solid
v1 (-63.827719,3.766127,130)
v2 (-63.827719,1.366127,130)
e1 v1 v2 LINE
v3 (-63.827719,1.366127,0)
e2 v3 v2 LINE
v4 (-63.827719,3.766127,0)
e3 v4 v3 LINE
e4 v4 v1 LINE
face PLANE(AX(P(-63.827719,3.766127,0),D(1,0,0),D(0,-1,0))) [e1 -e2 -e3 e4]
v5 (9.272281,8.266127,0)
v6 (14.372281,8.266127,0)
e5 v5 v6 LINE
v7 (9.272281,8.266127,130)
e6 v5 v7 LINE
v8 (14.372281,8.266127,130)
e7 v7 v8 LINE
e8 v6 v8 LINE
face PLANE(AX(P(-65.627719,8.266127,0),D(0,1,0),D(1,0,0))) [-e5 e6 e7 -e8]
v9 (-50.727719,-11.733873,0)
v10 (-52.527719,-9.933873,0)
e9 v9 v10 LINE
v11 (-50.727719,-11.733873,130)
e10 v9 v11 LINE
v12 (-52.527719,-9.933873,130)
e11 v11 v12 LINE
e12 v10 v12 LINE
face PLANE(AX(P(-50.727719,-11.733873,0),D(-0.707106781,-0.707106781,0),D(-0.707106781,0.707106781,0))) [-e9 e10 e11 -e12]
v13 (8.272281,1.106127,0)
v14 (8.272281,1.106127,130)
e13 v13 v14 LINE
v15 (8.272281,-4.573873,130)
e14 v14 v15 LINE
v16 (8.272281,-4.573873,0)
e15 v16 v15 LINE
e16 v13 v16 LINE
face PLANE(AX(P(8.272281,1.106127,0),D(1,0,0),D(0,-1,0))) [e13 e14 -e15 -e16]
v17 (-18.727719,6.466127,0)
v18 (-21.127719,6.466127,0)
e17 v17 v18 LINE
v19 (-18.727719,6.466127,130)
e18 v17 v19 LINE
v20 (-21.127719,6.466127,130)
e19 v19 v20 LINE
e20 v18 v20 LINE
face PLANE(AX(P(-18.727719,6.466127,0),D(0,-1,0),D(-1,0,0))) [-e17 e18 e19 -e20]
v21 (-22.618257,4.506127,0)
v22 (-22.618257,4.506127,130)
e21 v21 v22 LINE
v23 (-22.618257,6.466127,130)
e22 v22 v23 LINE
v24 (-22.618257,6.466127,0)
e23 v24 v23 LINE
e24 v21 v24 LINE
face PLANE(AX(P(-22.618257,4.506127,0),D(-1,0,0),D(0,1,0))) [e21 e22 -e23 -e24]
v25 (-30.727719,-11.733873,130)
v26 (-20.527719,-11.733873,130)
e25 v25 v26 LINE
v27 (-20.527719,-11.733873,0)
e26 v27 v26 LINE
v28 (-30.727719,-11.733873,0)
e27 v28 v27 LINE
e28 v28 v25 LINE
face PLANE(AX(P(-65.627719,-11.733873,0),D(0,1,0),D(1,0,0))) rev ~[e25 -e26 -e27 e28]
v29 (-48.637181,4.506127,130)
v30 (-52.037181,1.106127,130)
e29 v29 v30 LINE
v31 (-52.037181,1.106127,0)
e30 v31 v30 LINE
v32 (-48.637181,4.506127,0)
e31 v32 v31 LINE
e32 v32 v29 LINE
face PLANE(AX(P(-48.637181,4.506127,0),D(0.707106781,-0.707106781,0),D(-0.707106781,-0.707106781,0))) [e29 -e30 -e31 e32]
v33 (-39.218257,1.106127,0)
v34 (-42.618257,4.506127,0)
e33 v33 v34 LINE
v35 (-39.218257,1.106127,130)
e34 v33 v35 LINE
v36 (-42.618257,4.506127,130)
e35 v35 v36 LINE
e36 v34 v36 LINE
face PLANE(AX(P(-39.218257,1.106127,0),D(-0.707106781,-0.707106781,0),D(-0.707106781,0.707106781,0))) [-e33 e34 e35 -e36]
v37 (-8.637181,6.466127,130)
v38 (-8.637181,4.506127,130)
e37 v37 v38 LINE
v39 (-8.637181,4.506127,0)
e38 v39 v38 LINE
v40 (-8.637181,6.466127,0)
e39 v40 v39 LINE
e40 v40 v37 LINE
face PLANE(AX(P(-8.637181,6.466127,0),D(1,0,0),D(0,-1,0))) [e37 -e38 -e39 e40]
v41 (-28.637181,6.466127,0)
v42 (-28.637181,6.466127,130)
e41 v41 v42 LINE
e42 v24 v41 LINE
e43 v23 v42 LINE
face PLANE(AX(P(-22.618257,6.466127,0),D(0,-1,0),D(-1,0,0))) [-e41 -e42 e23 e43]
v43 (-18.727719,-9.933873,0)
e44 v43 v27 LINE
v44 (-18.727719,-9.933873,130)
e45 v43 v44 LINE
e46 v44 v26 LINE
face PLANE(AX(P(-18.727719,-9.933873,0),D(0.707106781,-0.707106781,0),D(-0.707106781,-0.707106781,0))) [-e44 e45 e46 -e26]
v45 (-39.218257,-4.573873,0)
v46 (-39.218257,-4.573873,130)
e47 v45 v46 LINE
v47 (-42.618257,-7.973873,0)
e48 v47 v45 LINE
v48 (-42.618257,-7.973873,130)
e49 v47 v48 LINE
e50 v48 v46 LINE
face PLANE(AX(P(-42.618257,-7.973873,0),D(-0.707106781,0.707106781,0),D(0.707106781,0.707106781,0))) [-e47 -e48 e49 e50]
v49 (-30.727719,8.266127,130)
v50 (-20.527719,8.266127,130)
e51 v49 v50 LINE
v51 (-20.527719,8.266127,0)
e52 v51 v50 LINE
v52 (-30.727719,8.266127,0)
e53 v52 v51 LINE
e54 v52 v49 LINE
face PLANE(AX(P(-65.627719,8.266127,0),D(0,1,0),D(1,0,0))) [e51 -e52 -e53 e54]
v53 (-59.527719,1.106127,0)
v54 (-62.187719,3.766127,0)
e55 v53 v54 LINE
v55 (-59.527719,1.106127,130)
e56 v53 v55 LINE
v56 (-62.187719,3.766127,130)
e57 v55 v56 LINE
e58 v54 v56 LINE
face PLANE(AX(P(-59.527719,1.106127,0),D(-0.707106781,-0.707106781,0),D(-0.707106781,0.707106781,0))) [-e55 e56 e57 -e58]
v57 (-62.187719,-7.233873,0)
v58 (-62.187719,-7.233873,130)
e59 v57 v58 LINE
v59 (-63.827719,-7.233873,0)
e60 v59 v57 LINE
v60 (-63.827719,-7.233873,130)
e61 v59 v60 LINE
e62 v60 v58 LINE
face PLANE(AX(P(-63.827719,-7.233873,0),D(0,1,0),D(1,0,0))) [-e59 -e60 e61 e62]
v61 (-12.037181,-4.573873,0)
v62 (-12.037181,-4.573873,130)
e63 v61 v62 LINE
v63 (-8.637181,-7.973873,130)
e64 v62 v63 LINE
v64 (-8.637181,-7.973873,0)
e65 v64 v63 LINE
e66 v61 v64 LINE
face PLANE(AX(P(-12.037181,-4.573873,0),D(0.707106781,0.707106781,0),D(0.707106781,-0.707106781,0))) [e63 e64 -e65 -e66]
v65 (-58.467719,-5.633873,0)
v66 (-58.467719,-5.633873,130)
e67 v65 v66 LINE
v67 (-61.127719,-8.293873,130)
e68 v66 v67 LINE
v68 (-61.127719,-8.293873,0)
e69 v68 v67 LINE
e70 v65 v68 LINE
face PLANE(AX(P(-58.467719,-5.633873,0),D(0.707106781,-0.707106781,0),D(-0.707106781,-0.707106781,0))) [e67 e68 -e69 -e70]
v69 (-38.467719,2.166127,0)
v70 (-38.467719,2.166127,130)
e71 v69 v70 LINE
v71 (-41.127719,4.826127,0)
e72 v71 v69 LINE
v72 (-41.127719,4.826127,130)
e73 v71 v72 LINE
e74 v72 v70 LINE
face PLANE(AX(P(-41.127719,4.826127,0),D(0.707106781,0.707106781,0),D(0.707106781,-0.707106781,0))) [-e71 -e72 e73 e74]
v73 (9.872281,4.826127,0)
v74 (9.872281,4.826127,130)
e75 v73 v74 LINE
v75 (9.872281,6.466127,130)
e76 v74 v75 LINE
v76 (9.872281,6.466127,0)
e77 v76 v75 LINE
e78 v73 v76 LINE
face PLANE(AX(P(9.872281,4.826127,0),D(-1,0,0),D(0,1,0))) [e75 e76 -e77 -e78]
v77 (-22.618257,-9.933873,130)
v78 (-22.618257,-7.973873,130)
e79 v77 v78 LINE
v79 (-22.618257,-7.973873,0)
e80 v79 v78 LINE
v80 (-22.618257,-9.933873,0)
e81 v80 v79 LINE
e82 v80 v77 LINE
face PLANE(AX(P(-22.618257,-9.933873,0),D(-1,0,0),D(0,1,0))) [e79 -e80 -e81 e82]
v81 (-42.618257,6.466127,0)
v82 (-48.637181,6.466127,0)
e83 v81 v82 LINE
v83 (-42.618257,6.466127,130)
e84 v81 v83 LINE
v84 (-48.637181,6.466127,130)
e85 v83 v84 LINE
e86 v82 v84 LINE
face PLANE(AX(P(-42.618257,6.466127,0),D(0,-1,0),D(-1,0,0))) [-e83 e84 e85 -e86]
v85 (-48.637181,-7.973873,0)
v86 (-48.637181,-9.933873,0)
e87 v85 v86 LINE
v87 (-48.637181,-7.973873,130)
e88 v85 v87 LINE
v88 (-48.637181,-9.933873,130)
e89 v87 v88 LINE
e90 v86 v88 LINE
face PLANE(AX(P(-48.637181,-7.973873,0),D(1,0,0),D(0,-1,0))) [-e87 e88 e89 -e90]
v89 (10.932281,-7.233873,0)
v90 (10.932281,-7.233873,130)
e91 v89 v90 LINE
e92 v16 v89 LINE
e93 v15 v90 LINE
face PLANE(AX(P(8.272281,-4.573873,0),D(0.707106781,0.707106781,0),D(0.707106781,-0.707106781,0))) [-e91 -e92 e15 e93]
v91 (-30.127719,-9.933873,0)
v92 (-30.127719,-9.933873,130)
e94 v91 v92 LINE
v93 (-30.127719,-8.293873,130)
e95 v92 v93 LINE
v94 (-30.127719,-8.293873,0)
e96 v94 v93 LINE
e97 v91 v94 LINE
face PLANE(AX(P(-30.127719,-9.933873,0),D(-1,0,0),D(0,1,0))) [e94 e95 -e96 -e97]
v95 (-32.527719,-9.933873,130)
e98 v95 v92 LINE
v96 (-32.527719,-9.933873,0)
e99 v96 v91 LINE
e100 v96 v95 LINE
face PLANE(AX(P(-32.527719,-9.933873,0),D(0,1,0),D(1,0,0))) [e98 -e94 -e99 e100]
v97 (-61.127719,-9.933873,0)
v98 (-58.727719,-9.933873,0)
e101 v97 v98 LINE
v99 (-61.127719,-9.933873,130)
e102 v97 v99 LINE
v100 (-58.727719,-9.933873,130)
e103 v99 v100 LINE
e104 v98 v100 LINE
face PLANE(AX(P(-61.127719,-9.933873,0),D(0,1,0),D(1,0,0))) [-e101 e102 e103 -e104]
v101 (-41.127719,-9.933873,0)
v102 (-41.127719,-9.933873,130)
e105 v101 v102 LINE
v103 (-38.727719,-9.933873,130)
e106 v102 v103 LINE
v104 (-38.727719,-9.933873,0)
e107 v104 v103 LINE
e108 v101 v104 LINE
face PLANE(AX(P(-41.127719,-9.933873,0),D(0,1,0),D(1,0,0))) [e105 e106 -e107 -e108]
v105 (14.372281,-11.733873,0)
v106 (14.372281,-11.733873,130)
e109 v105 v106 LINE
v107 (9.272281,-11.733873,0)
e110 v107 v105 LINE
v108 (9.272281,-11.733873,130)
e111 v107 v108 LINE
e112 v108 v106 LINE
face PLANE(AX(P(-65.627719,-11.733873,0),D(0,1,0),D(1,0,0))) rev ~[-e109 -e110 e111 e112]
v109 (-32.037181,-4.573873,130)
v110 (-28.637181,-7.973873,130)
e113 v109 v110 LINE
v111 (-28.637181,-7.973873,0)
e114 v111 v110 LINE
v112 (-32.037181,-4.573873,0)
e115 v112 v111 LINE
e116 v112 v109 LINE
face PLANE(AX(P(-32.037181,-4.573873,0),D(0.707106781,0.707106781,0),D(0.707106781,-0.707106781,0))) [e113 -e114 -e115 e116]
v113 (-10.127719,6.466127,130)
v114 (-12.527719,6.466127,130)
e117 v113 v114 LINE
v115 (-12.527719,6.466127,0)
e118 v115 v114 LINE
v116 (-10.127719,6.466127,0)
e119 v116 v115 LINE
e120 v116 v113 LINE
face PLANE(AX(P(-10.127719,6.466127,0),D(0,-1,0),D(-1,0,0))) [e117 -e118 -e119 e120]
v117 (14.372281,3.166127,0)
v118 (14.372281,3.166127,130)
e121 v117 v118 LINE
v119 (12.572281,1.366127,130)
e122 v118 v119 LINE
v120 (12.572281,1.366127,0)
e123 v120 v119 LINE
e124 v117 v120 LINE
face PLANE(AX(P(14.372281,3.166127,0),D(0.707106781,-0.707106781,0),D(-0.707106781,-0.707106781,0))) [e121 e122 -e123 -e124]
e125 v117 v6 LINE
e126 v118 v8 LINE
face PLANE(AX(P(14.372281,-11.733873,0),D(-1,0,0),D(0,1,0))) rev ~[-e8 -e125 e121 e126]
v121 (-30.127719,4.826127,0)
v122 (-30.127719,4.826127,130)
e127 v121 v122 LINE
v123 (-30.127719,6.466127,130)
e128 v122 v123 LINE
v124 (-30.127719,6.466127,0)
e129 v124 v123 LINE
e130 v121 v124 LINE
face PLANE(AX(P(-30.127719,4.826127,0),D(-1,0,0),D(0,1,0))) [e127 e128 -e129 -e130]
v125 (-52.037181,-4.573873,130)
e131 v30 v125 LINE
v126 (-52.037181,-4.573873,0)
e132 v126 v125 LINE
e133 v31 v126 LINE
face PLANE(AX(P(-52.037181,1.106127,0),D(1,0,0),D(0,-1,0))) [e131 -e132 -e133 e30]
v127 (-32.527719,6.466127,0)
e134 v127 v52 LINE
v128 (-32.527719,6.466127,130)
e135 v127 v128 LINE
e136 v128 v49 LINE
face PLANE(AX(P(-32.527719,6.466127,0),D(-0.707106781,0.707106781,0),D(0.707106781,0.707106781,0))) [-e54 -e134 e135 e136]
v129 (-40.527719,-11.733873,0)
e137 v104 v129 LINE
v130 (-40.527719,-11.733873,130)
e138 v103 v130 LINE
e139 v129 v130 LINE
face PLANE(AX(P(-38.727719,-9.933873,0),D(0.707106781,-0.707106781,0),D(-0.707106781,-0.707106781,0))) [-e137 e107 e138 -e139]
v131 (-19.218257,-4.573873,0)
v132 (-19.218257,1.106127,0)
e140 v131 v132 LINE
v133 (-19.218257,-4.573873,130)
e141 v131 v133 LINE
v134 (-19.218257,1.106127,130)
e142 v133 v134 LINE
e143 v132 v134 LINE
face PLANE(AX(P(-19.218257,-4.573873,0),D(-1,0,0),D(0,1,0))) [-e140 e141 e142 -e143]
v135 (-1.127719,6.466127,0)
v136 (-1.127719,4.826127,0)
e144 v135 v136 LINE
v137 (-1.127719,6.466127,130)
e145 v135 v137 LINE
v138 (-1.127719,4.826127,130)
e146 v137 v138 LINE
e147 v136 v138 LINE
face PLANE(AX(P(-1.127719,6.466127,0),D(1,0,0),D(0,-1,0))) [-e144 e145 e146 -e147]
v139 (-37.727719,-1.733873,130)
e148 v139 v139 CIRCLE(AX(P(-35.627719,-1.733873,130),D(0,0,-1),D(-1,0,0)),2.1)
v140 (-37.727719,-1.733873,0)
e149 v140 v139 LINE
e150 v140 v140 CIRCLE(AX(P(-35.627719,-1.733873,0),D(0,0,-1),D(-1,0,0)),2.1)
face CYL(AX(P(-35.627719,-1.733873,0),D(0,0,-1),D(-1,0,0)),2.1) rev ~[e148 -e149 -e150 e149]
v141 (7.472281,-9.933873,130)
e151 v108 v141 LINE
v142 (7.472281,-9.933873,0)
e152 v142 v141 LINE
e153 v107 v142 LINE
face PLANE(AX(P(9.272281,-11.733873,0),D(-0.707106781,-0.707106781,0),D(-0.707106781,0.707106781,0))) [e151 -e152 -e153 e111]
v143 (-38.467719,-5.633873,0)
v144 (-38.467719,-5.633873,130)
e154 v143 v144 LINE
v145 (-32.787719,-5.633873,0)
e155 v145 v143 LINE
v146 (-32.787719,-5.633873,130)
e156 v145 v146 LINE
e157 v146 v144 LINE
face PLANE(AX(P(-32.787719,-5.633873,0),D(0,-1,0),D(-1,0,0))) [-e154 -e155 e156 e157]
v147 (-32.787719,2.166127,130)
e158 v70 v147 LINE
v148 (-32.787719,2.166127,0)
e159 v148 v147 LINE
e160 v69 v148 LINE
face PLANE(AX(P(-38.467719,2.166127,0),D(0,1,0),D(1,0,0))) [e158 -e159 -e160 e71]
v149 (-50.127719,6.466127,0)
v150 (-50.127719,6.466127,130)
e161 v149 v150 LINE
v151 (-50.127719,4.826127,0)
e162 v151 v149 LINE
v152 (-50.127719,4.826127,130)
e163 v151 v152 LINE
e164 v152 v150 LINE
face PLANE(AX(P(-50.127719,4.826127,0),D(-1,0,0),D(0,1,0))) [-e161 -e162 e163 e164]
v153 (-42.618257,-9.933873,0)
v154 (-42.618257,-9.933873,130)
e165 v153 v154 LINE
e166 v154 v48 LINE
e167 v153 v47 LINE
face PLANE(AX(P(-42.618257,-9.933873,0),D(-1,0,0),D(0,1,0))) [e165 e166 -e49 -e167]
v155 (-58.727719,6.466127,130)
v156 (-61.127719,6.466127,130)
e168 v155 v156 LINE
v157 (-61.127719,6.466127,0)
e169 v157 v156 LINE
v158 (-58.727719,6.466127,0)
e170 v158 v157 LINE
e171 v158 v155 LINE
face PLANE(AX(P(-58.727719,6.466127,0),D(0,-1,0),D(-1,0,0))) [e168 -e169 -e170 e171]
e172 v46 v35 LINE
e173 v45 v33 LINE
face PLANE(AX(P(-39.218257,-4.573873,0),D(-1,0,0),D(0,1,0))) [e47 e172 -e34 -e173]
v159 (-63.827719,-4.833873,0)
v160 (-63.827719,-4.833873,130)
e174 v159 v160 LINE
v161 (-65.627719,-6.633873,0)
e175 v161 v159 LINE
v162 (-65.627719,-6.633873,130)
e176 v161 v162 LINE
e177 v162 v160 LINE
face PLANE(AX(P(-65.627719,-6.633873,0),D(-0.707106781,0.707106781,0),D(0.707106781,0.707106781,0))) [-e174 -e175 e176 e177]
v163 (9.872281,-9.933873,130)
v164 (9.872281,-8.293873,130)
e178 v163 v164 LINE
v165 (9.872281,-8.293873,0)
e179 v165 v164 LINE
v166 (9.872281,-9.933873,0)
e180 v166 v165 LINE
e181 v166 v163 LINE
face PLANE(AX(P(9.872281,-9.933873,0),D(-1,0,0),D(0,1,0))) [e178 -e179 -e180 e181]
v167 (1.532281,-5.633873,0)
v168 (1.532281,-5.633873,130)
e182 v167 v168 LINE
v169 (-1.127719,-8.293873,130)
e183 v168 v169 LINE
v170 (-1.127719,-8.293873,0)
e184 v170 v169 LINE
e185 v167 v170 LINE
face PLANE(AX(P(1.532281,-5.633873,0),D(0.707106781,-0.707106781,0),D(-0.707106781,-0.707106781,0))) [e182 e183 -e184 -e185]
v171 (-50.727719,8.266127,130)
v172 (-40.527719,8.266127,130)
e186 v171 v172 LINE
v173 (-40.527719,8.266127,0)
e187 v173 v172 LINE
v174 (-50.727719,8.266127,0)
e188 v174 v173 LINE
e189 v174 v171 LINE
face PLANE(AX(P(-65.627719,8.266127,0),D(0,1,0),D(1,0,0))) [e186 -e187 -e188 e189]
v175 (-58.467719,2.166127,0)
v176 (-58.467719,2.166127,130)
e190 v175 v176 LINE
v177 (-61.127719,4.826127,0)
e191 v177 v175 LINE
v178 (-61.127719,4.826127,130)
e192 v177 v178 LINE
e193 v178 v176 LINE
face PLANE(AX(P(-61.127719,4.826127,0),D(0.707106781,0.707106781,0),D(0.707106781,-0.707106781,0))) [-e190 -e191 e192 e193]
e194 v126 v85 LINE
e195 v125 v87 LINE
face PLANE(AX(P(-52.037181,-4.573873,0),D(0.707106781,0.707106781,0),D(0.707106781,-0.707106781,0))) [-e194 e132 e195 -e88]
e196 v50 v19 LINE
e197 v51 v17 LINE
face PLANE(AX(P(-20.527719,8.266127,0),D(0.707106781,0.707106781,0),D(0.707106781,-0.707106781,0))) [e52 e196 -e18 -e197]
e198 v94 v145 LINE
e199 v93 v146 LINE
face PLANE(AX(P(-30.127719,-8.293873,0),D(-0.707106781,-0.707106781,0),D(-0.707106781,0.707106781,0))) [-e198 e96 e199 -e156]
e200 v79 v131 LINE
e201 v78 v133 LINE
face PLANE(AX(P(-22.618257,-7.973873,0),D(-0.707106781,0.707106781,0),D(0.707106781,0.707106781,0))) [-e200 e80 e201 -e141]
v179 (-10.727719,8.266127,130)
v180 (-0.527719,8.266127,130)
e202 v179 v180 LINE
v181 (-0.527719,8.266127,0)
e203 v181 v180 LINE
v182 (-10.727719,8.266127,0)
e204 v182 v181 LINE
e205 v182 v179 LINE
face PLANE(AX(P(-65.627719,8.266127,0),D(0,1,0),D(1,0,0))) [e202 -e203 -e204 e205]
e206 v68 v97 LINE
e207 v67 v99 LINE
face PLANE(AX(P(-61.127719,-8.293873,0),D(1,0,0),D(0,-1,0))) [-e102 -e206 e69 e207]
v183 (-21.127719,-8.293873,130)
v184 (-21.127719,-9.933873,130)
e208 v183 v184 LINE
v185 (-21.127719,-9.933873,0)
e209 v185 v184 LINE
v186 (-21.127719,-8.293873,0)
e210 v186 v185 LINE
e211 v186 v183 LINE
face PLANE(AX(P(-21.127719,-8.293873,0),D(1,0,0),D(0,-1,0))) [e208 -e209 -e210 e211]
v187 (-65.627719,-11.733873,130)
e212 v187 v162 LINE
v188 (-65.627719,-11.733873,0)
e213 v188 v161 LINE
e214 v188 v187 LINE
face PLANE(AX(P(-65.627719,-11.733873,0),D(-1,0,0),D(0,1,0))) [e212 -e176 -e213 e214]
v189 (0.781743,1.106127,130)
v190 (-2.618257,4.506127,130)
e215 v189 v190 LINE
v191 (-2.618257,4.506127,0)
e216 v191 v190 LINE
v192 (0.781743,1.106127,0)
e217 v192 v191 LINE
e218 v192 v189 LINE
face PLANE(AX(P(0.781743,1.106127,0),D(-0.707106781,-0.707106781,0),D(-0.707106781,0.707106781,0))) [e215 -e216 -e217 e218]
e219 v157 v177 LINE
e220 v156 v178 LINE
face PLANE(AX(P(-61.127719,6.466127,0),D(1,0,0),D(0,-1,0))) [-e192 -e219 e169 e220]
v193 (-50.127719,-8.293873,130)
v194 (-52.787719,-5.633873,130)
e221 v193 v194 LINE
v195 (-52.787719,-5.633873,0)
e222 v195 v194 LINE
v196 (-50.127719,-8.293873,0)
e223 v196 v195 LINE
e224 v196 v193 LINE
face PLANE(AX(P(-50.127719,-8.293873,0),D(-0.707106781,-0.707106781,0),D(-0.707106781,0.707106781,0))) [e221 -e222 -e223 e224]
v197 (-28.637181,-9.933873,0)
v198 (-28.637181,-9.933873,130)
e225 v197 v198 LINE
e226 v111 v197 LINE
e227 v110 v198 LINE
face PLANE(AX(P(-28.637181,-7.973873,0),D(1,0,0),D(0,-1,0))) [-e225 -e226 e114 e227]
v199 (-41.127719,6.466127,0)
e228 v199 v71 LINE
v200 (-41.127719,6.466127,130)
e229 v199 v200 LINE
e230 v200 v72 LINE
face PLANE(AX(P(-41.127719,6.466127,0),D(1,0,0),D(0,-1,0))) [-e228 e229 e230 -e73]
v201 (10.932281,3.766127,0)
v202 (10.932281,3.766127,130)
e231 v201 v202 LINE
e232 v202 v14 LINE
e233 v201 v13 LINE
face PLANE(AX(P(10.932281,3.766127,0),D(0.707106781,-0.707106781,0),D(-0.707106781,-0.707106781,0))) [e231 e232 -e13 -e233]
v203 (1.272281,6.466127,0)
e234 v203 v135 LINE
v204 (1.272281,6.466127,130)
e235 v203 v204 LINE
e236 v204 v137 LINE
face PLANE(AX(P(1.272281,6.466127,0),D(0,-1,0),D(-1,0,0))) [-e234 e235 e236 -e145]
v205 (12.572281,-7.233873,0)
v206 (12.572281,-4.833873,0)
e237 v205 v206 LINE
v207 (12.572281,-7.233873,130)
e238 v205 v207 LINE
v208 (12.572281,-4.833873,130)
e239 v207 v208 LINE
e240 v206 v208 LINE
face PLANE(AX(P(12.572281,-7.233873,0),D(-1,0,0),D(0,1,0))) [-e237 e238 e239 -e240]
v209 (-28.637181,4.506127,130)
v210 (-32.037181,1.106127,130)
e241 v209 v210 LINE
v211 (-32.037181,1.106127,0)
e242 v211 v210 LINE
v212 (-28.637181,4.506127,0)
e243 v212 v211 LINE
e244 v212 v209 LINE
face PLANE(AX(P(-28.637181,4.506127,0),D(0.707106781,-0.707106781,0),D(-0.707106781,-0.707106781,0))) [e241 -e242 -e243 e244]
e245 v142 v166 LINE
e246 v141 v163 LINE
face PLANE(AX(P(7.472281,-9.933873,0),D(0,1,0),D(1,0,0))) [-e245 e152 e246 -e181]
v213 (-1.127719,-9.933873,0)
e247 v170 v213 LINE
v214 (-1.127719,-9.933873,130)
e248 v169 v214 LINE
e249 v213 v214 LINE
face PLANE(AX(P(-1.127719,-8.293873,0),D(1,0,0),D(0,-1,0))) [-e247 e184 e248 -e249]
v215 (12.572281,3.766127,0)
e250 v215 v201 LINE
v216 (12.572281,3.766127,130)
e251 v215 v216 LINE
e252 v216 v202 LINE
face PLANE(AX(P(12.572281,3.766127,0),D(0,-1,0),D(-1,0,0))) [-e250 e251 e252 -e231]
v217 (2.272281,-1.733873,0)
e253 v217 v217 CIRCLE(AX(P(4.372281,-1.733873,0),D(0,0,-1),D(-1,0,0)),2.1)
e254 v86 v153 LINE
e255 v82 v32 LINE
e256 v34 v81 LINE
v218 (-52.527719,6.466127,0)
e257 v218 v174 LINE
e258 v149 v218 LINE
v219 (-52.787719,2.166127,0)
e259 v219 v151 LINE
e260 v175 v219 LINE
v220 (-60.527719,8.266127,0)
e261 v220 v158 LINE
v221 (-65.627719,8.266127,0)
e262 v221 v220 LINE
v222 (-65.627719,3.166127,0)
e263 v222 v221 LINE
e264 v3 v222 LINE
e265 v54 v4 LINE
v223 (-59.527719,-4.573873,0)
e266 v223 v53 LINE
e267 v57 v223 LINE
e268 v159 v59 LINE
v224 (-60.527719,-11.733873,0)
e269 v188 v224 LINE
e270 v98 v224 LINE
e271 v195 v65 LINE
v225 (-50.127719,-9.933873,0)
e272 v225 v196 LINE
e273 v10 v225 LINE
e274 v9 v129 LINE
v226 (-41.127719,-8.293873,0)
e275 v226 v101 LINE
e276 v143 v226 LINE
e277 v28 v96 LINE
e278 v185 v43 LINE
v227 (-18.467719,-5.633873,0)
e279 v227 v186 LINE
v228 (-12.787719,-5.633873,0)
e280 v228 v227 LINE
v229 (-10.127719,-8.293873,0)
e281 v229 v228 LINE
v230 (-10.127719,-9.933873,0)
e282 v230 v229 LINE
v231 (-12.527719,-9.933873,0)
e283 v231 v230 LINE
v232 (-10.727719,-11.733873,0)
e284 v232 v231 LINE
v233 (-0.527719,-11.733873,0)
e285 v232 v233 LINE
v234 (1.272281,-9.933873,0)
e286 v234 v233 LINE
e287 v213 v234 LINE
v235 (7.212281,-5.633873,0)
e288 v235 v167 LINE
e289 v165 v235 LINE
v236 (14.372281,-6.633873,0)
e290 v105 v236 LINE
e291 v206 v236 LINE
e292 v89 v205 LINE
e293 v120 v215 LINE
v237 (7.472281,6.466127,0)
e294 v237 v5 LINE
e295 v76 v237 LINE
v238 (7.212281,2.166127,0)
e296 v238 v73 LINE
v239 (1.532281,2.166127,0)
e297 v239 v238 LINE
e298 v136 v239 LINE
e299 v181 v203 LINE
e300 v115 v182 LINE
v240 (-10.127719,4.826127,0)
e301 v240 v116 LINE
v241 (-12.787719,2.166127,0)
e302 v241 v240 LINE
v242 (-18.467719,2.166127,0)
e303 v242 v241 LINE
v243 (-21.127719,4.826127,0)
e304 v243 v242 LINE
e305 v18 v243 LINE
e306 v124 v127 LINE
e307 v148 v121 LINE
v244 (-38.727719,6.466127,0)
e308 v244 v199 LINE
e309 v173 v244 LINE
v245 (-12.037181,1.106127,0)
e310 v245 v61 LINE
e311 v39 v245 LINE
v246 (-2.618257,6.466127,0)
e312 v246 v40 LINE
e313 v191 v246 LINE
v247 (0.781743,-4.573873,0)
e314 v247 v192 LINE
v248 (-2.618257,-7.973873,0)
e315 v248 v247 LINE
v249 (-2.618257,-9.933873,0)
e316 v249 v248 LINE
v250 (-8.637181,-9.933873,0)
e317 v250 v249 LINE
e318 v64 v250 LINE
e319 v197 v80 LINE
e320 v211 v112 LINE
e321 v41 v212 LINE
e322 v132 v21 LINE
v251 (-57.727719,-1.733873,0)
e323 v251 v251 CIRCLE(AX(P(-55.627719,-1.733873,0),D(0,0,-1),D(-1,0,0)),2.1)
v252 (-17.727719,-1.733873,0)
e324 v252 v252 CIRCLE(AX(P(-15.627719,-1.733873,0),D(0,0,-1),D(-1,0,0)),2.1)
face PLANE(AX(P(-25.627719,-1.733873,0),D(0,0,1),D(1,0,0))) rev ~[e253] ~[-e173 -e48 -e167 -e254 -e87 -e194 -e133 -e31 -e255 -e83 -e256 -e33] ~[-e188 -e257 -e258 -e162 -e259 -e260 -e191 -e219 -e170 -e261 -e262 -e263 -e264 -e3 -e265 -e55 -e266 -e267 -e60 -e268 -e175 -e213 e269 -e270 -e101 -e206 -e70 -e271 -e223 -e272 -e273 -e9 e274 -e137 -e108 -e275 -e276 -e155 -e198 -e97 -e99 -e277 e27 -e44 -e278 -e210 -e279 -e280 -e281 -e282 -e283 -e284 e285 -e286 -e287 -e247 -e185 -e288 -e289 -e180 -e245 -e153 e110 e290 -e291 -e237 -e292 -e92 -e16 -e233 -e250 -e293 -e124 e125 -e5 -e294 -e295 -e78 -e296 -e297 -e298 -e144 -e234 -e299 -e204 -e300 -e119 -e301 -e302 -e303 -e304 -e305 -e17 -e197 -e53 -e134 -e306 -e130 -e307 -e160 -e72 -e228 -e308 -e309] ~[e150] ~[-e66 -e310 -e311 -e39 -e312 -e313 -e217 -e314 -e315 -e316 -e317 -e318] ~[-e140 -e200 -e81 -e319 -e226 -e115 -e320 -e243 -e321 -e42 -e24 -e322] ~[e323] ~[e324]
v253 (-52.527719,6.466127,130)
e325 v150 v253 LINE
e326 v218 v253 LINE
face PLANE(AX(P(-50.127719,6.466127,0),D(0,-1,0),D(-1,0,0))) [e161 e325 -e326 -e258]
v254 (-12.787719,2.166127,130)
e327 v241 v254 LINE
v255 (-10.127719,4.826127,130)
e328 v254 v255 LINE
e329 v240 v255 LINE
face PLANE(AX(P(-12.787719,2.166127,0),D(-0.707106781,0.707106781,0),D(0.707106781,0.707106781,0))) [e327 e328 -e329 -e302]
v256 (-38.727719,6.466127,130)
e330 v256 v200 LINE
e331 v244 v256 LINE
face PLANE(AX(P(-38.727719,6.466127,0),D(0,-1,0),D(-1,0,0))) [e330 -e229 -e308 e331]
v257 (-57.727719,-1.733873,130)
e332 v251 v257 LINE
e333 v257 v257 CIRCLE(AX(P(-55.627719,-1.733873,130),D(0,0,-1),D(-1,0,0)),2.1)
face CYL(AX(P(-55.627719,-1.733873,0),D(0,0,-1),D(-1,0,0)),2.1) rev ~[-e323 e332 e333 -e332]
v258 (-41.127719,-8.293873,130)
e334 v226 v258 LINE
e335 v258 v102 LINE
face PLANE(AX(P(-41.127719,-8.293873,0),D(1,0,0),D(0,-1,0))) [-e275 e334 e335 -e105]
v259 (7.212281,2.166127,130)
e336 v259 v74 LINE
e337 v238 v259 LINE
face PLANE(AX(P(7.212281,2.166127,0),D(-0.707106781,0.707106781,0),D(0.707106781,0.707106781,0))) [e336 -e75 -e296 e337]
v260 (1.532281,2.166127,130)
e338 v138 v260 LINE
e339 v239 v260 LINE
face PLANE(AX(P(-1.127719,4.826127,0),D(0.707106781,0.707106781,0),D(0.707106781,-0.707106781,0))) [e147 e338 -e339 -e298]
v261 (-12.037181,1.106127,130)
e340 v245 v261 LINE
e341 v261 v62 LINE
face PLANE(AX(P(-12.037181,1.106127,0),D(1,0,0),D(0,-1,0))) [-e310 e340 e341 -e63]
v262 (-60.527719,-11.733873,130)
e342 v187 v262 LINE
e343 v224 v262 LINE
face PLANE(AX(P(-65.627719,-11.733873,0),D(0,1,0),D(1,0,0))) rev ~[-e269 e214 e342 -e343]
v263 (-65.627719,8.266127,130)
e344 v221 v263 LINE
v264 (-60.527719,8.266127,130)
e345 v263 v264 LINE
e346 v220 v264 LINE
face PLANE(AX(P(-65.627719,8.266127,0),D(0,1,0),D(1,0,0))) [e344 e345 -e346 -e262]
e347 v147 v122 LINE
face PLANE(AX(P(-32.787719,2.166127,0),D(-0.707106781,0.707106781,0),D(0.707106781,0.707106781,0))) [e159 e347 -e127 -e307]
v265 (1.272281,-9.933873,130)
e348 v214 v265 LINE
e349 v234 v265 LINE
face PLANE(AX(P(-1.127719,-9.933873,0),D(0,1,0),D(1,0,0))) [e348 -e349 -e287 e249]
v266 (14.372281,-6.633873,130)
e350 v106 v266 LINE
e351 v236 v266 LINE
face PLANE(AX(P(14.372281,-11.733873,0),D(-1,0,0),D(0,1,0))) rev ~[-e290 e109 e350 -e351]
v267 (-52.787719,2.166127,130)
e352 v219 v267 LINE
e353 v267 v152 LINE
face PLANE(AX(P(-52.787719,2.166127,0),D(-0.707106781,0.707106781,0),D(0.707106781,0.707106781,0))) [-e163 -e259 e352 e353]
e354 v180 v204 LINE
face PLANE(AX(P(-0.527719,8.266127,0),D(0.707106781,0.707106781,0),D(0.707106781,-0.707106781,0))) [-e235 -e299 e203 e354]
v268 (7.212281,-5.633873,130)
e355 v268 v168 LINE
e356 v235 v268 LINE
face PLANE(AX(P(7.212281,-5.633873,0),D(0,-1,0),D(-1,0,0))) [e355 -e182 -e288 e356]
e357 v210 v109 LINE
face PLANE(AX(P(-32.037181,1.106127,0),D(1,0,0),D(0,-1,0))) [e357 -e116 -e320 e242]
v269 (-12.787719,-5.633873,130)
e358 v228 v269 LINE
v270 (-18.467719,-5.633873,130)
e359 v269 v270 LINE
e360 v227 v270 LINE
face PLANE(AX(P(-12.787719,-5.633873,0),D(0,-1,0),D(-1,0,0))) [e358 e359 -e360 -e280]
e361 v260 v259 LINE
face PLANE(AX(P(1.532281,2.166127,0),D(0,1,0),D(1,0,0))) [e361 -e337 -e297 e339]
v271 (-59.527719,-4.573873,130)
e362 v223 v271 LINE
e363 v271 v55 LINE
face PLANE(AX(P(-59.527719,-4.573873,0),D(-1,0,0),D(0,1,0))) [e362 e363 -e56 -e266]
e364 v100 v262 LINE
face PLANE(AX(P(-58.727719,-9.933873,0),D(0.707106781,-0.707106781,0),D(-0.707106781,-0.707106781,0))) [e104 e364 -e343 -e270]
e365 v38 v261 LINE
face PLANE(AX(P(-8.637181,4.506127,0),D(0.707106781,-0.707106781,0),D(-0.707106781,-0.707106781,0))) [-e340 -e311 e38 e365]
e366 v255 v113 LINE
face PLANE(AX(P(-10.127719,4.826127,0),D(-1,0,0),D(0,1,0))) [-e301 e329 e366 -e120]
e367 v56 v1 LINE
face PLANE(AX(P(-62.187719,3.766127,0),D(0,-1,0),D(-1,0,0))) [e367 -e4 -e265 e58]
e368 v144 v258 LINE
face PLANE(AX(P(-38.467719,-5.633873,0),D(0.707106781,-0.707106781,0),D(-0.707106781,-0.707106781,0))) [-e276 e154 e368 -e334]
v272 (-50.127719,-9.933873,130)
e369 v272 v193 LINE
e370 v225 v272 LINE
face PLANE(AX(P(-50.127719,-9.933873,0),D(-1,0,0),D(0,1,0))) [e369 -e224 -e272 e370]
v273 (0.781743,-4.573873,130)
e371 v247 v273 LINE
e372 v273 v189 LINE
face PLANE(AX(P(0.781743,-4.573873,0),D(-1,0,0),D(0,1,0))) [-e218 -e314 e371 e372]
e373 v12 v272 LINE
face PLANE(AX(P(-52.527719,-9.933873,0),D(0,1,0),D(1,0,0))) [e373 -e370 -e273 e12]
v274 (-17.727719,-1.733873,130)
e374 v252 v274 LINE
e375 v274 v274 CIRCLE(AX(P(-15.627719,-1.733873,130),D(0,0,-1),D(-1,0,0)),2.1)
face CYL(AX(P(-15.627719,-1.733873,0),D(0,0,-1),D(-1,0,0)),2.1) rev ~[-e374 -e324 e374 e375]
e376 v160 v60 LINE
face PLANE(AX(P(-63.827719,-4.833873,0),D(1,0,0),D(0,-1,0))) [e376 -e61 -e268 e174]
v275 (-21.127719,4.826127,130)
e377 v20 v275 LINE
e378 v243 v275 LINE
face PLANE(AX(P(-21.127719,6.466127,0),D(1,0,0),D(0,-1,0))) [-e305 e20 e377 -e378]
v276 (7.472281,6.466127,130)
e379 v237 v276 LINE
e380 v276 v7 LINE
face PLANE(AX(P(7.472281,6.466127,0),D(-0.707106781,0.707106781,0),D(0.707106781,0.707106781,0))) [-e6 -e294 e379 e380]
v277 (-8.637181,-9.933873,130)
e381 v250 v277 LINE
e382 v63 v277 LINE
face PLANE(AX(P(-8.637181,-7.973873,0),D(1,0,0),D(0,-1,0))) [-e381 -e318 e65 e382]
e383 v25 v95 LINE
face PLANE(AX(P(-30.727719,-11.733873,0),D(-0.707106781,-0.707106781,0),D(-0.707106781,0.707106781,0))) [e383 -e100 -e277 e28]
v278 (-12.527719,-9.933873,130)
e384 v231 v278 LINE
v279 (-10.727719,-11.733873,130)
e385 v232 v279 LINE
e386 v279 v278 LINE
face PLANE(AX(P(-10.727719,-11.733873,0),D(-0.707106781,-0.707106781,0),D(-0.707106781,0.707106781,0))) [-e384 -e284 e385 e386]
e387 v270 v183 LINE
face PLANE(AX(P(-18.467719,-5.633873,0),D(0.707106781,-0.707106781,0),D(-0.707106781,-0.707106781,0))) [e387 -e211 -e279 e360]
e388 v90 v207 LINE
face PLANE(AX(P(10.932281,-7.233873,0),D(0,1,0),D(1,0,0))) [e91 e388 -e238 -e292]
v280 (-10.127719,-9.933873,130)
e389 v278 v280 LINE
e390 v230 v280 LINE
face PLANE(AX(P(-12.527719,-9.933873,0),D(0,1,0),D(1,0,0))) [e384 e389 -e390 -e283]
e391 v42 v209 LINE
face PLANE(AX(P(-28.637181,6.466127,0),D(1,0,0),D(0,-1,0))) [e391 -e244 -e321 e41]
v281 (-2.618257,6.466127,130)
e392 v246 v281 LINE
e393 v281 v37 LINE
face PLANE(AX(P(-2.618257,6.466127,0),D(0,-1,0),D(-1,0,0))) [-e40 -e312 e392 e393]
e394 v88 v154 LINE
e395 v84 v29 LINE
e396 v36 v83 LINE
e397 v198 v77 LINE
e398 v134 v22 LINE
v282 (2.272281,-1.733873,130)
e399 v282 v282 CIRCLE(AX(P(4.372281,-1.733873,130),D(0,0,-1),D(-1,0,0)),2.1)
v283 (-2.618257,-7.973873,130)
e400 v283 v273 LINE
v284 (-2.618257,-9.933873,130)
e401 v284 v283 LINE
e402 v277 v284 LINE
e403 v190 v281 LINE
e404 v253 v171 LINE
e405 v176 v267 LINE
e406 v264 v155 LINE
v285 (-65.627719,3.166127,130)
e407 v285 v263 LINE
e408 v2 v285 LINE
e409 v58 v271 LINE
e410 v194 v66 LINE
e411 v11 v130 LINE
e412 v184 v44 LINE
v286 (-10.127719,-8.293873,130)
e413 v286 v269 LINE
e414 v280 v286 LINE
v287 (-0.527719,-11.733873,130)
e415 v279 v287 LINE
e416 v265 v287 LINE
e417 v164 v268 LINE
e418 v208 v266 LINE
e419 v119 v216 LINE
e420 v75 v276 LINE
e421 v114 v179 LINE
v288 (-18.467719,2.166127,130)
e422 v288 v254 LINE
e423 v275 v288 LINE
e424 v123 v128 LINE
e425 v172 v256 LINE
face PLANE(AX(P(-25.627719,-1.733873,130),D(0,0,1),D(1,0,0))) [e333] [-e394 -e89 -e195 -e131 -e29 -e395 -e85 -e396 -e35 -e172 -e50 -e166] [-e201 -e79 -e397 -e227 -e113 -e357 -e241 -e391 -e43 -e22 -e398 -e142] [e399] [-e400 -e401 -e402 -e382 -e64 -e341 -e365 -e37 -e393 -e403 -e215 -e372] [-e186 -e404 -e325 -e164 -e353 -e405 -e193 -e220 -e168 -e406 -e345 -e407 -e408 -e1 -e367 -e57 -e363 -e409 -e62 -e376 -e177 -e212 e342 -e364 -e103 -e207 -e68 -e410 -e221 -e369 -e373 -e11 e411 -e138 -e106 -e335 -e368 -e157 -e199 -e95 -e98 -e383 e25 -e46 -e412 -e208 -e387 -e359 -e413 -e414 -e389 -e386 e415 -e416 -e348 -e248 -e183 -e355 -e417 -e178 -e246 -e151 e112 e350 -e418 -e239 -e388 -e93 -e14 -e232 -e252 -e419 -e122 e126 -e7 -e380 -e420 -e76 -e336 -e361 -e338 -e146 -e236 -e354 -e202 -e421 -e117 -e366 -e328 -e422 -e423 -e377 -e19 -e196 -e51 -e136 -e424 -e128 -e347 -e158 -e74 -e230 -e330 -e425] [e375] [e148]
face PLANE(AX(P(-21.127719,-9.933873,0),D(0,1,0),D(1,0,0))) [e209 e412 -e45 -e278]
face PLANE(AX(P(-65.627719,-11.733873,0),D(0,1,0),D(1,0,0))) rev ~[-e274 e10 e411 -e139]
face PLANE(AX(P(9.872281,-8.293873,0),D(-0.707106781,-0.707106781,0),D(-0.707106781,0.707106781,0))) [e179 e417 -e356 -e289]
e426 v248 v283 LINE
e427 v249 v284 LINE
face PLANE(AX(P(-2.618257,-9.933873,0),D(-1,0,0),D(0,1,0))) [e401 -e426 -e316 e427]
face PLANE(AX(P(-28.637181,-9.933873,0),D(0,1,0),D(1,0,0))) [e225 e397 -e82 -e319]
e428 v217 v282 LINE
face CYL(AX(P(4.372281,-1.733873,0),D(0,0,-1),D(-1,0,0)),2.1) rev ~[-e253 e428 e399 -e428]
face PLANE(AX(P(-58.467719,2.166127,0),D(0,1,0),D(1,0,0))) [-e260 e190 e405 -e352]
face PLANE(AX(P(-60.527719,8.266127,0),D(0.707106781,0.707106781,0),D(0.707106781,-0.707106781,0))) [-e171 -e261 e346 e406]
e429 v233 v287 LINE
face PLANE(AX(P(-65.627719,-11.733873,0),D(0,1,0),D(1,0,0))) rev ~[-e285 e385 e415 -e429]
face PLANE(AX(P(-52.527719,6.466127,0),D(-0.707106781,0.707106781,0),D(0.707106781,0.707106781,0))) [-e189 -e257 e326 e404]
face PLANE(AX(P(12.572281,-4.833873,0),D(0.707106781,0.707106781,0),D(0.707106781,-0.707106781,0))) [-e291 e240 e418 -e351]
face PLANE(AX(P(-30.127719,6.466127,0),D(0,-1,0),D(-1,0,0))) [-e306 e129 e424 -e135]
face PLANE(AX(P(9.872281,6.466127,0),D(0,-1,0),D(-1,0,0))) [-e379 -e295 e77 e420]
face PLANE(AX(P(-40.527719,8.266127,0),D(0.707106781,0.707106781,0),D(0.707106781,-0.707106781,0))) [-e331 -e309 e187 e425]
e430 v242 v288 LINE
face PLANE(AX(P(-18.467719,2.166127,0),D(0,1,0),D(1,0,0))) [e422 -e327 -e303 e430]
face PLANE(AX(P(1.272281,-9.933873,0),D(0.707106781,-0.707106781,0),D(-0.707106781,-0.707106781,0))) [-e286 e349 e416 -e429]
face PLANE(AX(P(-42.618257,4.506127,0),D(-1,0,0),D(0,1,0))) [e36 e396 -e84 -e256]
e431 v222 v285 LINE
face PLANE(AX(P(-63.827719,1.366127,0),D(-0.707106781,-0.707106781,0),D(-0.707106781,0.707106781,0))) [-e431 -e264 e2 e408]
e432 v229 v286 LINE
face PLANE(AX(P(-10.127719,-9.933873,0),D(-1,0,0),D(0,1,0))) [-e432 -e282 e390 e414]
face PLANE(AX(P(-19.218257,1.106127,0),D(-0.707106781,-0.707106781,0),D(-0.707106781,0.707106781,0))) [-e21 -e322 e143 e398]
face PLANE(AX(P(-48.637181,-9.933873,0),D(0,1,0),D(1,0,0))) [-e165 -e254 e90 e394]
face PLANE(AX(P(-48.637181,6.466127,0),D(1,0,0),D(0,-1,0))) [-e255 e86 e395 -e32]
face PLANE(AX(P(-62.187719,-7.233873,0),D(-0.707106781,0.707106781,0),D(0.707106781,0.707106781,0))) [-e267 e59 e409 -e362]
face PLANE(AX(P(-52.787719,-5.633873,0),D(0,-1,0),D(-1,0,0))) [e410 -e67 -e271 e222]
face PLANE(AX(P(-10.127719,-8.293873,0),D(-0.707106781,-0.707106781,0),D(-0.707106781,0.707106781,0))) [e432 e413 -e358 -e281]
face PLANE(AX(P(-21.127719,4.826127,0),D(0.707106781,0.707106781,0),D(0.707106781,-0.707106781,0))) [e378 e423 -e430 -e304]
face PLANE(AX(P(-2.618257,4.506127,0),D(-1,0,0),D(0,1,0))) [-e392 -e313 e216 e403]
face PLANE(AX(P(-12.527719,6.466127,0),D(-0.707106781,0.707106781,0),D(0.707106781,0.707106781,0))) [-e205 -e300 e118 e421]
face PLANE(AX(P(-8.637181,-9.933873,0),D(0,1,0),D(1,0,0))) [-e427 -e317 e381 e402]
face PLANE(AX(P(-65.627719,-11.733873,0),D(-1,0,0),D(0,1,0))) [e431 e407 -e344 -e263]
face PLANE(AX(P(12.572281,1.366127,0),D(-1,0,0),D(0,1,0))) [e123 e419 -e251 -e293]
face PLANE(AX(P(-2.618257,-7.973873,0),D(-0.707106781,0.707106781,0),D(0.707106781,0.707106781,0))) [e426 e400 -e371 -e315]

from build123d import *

# Parameters (mm, degrees)
ESQUISSE1_W             = 80
ESQUISSE1_H             = 20
BOSS_EXTRU_1_DEPTH      = 130
ENL_V_MAT_EXTRU_1_REACH = 148.098
ESQUISSE2_R             = 2.1
ENL_V_MAT_EXTRU_2_REACH = 148.098


with BuildPart() as part:
    # Esquisse1 → Boss.-Extru.1 (new body)
    with BuildSketch(Plane.XY):
        with Locations((-25.62771875, -1.733873274)):
            Rectangle(ESQUISSE1_W, ESQUISSE1_H)
    extrude(amount=BOSS_EXTRU_1_DEPTH)

    # Esquisse2 → Enlèv. mat.-Extru.1 (cut, up to next)
    with BuildSketch(Plane(origin=(0, 0, 0), x_dir=(-1, 0, 0), z_dir=(0, 0, -1)), mode=Mode.PRIVATE) as enl_v_mat_extru_1_sk1:
        with Locations((55.62771875, -1.733873274)):
            Circle(ESQUISSE2_R)
    enl_v_mat_extru_1_tool1 = extrude(enl_v_mat_extru_1_sk1.sketch, amount=-ENL_V_MAT_EXTRU_1_REACH, mode=Mode.PRIVATE) & part.part
    # Esquisse2 → Enlèv. mat.-Extru.1 (cut, up to next)
    with BuildSketch(Plane(origin=(0, 0, 0), x_dir=(-1, 0, 0), z_dir=(0, 0, -1)), mode=Mode.PRIVATE) as enl_v_mat_extru_1_sk2:
        with Locations((35.62771875, -1.733873274)):
            Circle(ESQUISSE2_R)
    enl_v_mat_extru_1_tool2 = extrude(enl_v_mat_extru_1_sk2.sketch, amount=-ENL_V_MAT_EXTRU_1_REACH, mode=Mode.PRIVATE) & part.part
    # Esquisse2 → Enlèv. mat.-Extru.1 (cut, up to next)
    with BuildSketch(Plane(origin=(0, 0, 0), x_dir=(-1, 0, 0), z_dir=(0, 0, -1)), mode=Mode.PRIVATE) as enl_v_mat_extru_1_sk3:
        with Locations((15.62771875, -1.733873274)):
            Circle(ESQUISSE2_R)
    enl_v_mat_extru_1_tool3 = extrude(enl_v_mat_extru_1_sk3.sketch, amount=-ENL_V_MAT_EXTRU_1_REACH, mode=Mode.PRIVATE) & part.part
    # Esquisse2 → Enlèv. mat.-Extru.1 (cut, up to next)
    with BuildSketch(Plane(origin=(0, 0, 0), x_dir=(-1, 0, 0), z_dir=(0, 0, -1)), mode=Mode.PRIVATE) as enl_v_mat_extru_1_sk4:
        with Locations((-4.37228125, -1.733873274)):
            Circle(ESQUISSE2_R)
    enl_v_mat_extru_1_tool4 = extrude(enl_v_mat_extru_1_sk4.sketch, amount=-ENL_V_MAT_EXTRU_1_REACH, mode=Mode.PRIVATE) & part.part
    # Esquisse2 → Enlèv. mat.-Extru.1 (cut, up to next)
    with BuildSketch(Plane(origin=(0, 0, 0), x_dir=(-1, 0, 0), z_dir=(0, 0, -1)), mode=Mode.PRIVATE) as enl_v_mat_extru_1_sk5:
        Polygon((50.72771875, 8.266126726), (60.52771875, 8.266126726), (58.72771875, 6.466126726), (61.12771875, 6.466126726), (61.12771875, 4.826126726), (58.46771875, 2.166126726), (52.78771875, 2.166126726), (50.12771875, 4.826126726), (50.12771875, 6.466126726), (52.52771875, 6.466126726), align=None)
    enl_v_mat_extru_1_tool5 = extrude(enl_v_mat_extru_1_sk5.sketch, amount=-ENL_V_MAT_EXTRU_1_REACH, mode=Mode.PRIVATE) & part.part
    # Esquisse2 → Enlèv. mat.-Extru.1 (cut, up to next)
    with BuildSketch(Plane(origin=(0, 0, 0), x_dir=(-1, 0, 0), z_dir=(0, 0, -1)), mode=Mode.PRIVATE) as enl_v_mat_extru_1_sk6:
        Polygon((65.62771875, 3.166126726), (65.62771875, -6.633873274), (63.82771875, -4.833873274), (63.82771875, -7.233873274), (62.18771875, -7.233873274), (59.52771875, -4.573873274), (59.52771875, 1.106126726), (62.18771875, 3.766126726), (63.82771875, 3.766126726), (63.82771875, 1.366126726), align=None)
    enl_v_mat_extru_1_tool6 = extrude(enl_v_mat_extru_1_sk6.sketch, amount=-ENL_V_MAT_EXTRU_1_REACH, mode=Mode.PRIVATE) & part.part
    # Esquisse2 → Enlèv. mat.-Extru.1 (cut, up to next)
    with BuildSketch(Plane(origin=(0, 0, 0), x_dir=(-1, 0, 0), z_dir=(0, 0, -1)), mode=Mode.PRIVATE) as enl_v_mat_extru_1_sk7:
        Polygon((60.52771875, -11.733873274), (50.72771875, -11.733873274), (52.52771875, -9.933873274), (50.12771875, -9.933873274), (50.12771875, -8.293873274), (52.78771875, -5.633873274), (58.46771875, -5.633873274), (61.12771875, -8.293873274), (61.12771875, -9.933873274), (58.72771875, -9.933873274), align=None)
    enl_v_mat_extru_1_tool7 = extrude(enl_v_mat_extru_1_sk7.sketch, amount=-ENL_V_MAT_EXTRU_1_REACH, mode=Mode.PRIVATE) & part.part
    # Esquisse2 → Enlèv. mat.-Extru.1 (cut, up to next)
    with BuildSketch(Plane(origin=(0, 0, 0), x_dir=(-1, 0, 0), z_dir=(0, 0, -1)), mode=Mode.PRIVATE) as enl_v_mat_extru_1_sk8:
        Polygon((30.72771875, 8.266126726), (40.52771875, 8.266126726), (38.72771875, 6.466126726), (41.12771875, 6.466126726), (41.12771875, 4.826126726), (38.46771875, 2.166126726), (32.78771875, 2.166126726), (30.12771875, 4.826126726), (30.12771875, 6.466126726), (32.52771875, 6.466126726), align=None)
    enl_v_mat_extru_1_tool8 = extrude(enl_v_mat_extru_1_sk8.sketch, amount=-ENL_V_MAT_EXTRU_1_REACH, mode=Mode.PRIVATE) & part.part
    # Esquisse2 → Enlèv. mat.-Extru.1 (cut, up to next)
    with BuildSketch(Plane(origin=(0, 0, 0), x_dir=(-1, 0, 0), z_dir=(0, 0, -1)), mode=Mode.PRIVATE) as enl_v_mat_extru_1_sk9:
        Polygon((40.52771875, -11.733873274), (30.72771875, -11.733873274), (32.52771875, -9.933873274), (30.12771875, -9.933873274), (30.12771875, -8.293873274), (32.78771875, -5.633873274), (38.46771875, -5.633873274), (41.12771875, -8.293873274), (41.12771875, -9.933873274), (38.72771875, -9.933873274), align=None)
    enl_v_mat_extru_1_tool9 = extrude(enl_v_mat_extru_1_sk9.sketch, amount=-ENL_V_MAT_EXTRU_1_REACH, mode=Mode.PRIVATE) & part.part
    # Esquisse2 → Enlèv. mat.-Extru.1 (cut, up to next)
    with BuildSketch(Plane(origin=(0, 0, 0), x_dir=(-1, 0, 0), z_dir=(0, 0, -1)), mode=Mode.PRIVATE) as enl_v_mat_extru_1_sk10:
        Polygon((10.72771875, 8.266126726), (20.52771875, 8.266126726), (18.72771875, 6.466126726), (21.12771875, 6.466126726), (21.12771875, 4.826126726), (18.46771875, 2.166126726), (12.78771875, 2.166126726), (10.12771875, 4.826126726), (10.12771875, 6.466126726), (12.52771875, 6.466126726), align=None)
    enl_v_mat_extru_1_tool10 = extrude(enl_v_mat_extru_1_sk10.sketch, amount=-ENL_V_MAT_EXTRU_1_REACH, mode=Mode.PRIVATE) & part.part
    # Esquisse2 → Enlèv. mat.-Extru.1 (cut, up to next)
    with BuildSketch(Plane(origin=(0, 0, 0), x_dir=(-1, 0, 0), z_dir=(0, 0, -1)), mode=Mode.PRIVATE) as enl_v_mat_extru_1_sk11:
        Polygon((20.52771875, -11.733873274), (10.72771875, -11.733873274), (12.52771875, -9.933873274), (10.12771875, -9.933873274), (10.12771875, -8.293873274), (12.78771875, -5.633873274), (18.46771875, -5.633873274), (21.12771875, -8.293873274), (21.12771875, -9.933873274), (18.72771875, -9.933873274), align=None)
    enl_v_mat_extru_1_tool11 = extrude(enl_v_mat_extru_1_sk11.sketch, amount=-ENL_V_MAT_EXTRU_1_REACH, mode=Mode.PRIVATE) & part.part
    # Esquisse2 → Enlèv. mat.-Extru.1 (cut, up to next)
    with BuildSketch(Plane(origin=(0, 0, 0), x_dir=(-1, 0, 0), z_dir=(0, 0, -1)), mode=Mode.PRIVATE) as enl_v_mat_extru_1_sk12:
        Polygon((-9.27228125, 8.266126726), (0.52771875, 8.266126726), (-1.27228125, 6.466126726), (1.12771875, 6.466126726), (1.12771875, 4.826126726), (-1.53228125, 2.166126726), (-7.21228125, 2.166126726), (-9.87228125, 4.826126726), (-9.87228125, 6.466126726), (-7.47228125, 6.466126726), align=None)
    enl_v_mat_extru_1_tool12 = extrude(enl_v_mat_extru_1_sk12.sketch, amount=-ENL_V_MAT_EXTRU_1_REACH, mode=Mode.PRIVATE) & part.part
    # Esquisse2 → Enlèv. mat.-Extru.1 (cut, up to next)
    with BuildSketch(Plane(origin=(0, 0, 0), x_dir=(-1, 0, 0), z_dir=(0, 0, -1)), mode=Mode.PRIVATE) as enl_v_mat_extru_1_sk13:
        Polygon((0.52771875, -11.733873274), (-9.27228125, -11.733873274), (-7.47228125, -9.933873274), (-9.87228125, -9.933873274), (-9.87228125, -8.293873274), (-7.21228125, -5.633873274), (-1.53228125, -5.633873274), (1.12771875, -8.293873274), (1.12771875, -9.933873274), (-1.27228125, -9.933873274), align=None)
    enl_v_mat_extru_1_tool13 = extrude(enl_v_mat_extru_1_sk13.sketch, amount=-ENL_V_MAT_EXTRU_1_REACH, mode=Mode.PRIVATE) & part.part
    # Esquisse2 → Enlèv. mat.-Extru.1 (cut, up to next)
    with BuildSketch(Plane(origin=(0, 0, 0), x_dir=(-1, 0, 0), z_dir=(0, 0, -1)), mode=Mode.PRIVATE) as enl_v_mat_extru_1_sk14:
        Polygon((-14.37228125, -6.633873274), (-14.37228125, 3.166126726), (-12.57228125, 1.366126726), (-12.57228125, 3.766126726), (-10.93228125, 3.766126726), (-8.27228125, 1.106126726), (-8.27228125, -4.573873274), (-10.93228125, -7.233873274), (-12.57228125, -7.233873274), (-12.57228125, -4.833873274), align=None)
    enl_v_mat_extru_1_tool14 = extrude(enl_v_mat_extru_1_sk14.sketch, amount=-ENL_V_MAT_EXTRU_1_REACH, mode=Mode.PRIVATE) & part.part
    add(enl_v_mat_extru_1_tool1.solids().sort_by_distance((-55.627719, -1.733873, 0))[0], mode=Mode.SUBTRACT)
    add(enl_v_mat_extru_1_tool2.solids().sort_by_distance((-35.627719, -1.733873, 0))[0], mode=Mode.SUBTRACT)
    add(enl_v_mat_extru_1_tool3.solids().sort_by_distance((-15.627719, -1.733873, 0))[0], mode=Mode.SUBTRACT)
    add(enl_v_mat_extru_1_tool4.solids().sort_by_distance((4.372281, -1.733873, 0))[0], mode=Mode.SUBTRACT)
    add(enl_v_mat_extru_1_tool5.solids().sort_by_distance((-55.627719, 5.301599, 0))[0], mode=Mode.SUBTRACT)
    add(enl_v_mat_extru_1_tool6.solids().sort_by_distance((-62.663191, -1.733873, 0))[0], mode=Mode.SUBTRACT)
    add(enl_v_mat_extru_1_tool7.solids().sort_by_distance((-55.627719, -8.769346, 0))[0], mode=Mode.SUBTRACT)
    add(enl_v_mat_extru_1_tool8.solids().sort_by_distance((-35.627719, 5.301599, 0))[0], mode=Mode.SUBTRACT)
    add(enl_v_mat_extru_1_tool9.solids().sort_by_distance((-35.627719, -8.769346, 0))[0], mode=Mode.SUBTRACT)
    add(enl_v_mat_extru_1_tool10.solids().sort_by_distance((-15.627719, 5.301599, 0))[0], mode=Mode.SUBTRACT)
    add(enl_v_mat_extru_1_tool11.solids().sort_by_distance((-15.627719, -8.769346, 0))[0], mode=Mode.SUBTRACT)
    add(enl_v_mat_extru_1_tool12.solids().sort_by_distance((4.372281, 5.301599, 0))[0], mode=Mode.SUBTRACT)
    add(enl_v_mat_extru_1_tool13.solids().sort_by_distance((4.372281, -8.769346, 0))[0], mode=Mode.SUBTRACT)
    add(enl_v_mat_extru_1_tool14.solids().sort_by_distance((11.407754, -1.733873, 0))[0], mode=Mode.SUBTRACT)

    # Esquisse3 → Enlèv. mat.-Extru.2 (cut, up to next)
    with BuildSketch(Plane(origin=(0, 0, 0), x_dir=(-1, 0, 0), z_dir=(0, 0, -1)), mode=Mode.PRIVATE) as enl_v_mat_extru_2_sk1:
        Polygon((2.618256699, 6.466126726), (8.637180802, 6.466126726), (8.637180802, 4.506126726), (12.037180802, 1.106126726), (12.037180802, -4.573873274), (8.637180802, -7.973873274), (8.637180802, -9.933873274), (2.618256699, -9.933873274), (2.618256699, -7.973873274), (-0.781743301, -4.573873274), (-0.781743301, 1.106126726), (2.618256699, 4.506126726), align=None)
    enl_v_mat_extru_2_tool1 = extrude(enl_v_mat_extru_2_sk1.sketch, amount=-ENL_V_MAT_EXTRU_2_REACH, mode=Mode.PRIVATE) & part.part
    # Esquisse3 → Enlèv. mat.-Extru.2 (cut, up to next)
    with BuildSketch(Plane(origin=(0, 0, 0), x_dir=(-1, 0, 0), z_dir=(0, 0, -1)), mode=Mode.PRIVATE) as enl_v_mat_extru_2_sk2:
        Polygon((22.618256699, 6.466126726), (28.637180802, 6.466126726), (28.637180802, 4.506126726), (32.037180802, 1.106126726), (32.037180802, -4.573873274), (28.637180802, -7.973873274), (28.637180802, -9.933873274), (22.618256699, -9.933873274), (22.618256699, -7.973873274), (19.218256699, -4.573873274), (19.218256699, 1.106126726), (22.618256699, 4.506126726), align=None)
    enl_v_mat_extru_2_tool2 = extrude(enl_v_mat_extru_2_sk2.sketch, amount=-ENL_V_MAT_EXTRU_2_REACH, mode=Mode.PRIVATE) & part.part
    # Esquisse3 → Enlèv. mat.-Extru.2 (cut, up to next)
    with BuildSketch(Plane(origin=(0, 0, 0), x_dir=(-1, 0, 0), z_dir=(0, 0, -1)), mode=Mode.PRIVATE) as enl_v_mat_extru_2_sk3:
        Polygon((42.618256699, 6.466126726), (48.637180802, 6.466126726), (48.637180802, 4.506126726), (52.037180802, 1.106126726), (52.037180802, -4.573873274), (48.637180802, -7.973873274), (48.637180802, -9.933873274), (42.618256699, -9.933873274), (42.618256699, -7.973873274), (39.218256699, -4.573873274), (39.218256699, 1.106126726), (42.618256699, 4.506126726), align=None)
    enl_v_mat_extru_2_tool3 = extrude(enl_v_mat_extru_2_sk3.sketch, amount=-ENL_V_MAT_EXTRU_2_REACH, mode=Mode.PRIVATE) & part.part
    add(enl_v_mat_extru_2_tool1.solids().sort_by_distance((-5.627719, -1.733873, 0))[0], mode=Mode.SUBTRACT)
    add(enl_v_mat_extru_2_tool2.solids().sort_by_distance((-25.627719, -1.733873, 0))[0], mode=Mode.SUBTRACT)
    add(enl_v_mat_extru_2_tool3.solids().sort_by_distance((-45.627719, -1.733873, 0))[0], mode=Mode.SUBTRACT)


solid = part.part
